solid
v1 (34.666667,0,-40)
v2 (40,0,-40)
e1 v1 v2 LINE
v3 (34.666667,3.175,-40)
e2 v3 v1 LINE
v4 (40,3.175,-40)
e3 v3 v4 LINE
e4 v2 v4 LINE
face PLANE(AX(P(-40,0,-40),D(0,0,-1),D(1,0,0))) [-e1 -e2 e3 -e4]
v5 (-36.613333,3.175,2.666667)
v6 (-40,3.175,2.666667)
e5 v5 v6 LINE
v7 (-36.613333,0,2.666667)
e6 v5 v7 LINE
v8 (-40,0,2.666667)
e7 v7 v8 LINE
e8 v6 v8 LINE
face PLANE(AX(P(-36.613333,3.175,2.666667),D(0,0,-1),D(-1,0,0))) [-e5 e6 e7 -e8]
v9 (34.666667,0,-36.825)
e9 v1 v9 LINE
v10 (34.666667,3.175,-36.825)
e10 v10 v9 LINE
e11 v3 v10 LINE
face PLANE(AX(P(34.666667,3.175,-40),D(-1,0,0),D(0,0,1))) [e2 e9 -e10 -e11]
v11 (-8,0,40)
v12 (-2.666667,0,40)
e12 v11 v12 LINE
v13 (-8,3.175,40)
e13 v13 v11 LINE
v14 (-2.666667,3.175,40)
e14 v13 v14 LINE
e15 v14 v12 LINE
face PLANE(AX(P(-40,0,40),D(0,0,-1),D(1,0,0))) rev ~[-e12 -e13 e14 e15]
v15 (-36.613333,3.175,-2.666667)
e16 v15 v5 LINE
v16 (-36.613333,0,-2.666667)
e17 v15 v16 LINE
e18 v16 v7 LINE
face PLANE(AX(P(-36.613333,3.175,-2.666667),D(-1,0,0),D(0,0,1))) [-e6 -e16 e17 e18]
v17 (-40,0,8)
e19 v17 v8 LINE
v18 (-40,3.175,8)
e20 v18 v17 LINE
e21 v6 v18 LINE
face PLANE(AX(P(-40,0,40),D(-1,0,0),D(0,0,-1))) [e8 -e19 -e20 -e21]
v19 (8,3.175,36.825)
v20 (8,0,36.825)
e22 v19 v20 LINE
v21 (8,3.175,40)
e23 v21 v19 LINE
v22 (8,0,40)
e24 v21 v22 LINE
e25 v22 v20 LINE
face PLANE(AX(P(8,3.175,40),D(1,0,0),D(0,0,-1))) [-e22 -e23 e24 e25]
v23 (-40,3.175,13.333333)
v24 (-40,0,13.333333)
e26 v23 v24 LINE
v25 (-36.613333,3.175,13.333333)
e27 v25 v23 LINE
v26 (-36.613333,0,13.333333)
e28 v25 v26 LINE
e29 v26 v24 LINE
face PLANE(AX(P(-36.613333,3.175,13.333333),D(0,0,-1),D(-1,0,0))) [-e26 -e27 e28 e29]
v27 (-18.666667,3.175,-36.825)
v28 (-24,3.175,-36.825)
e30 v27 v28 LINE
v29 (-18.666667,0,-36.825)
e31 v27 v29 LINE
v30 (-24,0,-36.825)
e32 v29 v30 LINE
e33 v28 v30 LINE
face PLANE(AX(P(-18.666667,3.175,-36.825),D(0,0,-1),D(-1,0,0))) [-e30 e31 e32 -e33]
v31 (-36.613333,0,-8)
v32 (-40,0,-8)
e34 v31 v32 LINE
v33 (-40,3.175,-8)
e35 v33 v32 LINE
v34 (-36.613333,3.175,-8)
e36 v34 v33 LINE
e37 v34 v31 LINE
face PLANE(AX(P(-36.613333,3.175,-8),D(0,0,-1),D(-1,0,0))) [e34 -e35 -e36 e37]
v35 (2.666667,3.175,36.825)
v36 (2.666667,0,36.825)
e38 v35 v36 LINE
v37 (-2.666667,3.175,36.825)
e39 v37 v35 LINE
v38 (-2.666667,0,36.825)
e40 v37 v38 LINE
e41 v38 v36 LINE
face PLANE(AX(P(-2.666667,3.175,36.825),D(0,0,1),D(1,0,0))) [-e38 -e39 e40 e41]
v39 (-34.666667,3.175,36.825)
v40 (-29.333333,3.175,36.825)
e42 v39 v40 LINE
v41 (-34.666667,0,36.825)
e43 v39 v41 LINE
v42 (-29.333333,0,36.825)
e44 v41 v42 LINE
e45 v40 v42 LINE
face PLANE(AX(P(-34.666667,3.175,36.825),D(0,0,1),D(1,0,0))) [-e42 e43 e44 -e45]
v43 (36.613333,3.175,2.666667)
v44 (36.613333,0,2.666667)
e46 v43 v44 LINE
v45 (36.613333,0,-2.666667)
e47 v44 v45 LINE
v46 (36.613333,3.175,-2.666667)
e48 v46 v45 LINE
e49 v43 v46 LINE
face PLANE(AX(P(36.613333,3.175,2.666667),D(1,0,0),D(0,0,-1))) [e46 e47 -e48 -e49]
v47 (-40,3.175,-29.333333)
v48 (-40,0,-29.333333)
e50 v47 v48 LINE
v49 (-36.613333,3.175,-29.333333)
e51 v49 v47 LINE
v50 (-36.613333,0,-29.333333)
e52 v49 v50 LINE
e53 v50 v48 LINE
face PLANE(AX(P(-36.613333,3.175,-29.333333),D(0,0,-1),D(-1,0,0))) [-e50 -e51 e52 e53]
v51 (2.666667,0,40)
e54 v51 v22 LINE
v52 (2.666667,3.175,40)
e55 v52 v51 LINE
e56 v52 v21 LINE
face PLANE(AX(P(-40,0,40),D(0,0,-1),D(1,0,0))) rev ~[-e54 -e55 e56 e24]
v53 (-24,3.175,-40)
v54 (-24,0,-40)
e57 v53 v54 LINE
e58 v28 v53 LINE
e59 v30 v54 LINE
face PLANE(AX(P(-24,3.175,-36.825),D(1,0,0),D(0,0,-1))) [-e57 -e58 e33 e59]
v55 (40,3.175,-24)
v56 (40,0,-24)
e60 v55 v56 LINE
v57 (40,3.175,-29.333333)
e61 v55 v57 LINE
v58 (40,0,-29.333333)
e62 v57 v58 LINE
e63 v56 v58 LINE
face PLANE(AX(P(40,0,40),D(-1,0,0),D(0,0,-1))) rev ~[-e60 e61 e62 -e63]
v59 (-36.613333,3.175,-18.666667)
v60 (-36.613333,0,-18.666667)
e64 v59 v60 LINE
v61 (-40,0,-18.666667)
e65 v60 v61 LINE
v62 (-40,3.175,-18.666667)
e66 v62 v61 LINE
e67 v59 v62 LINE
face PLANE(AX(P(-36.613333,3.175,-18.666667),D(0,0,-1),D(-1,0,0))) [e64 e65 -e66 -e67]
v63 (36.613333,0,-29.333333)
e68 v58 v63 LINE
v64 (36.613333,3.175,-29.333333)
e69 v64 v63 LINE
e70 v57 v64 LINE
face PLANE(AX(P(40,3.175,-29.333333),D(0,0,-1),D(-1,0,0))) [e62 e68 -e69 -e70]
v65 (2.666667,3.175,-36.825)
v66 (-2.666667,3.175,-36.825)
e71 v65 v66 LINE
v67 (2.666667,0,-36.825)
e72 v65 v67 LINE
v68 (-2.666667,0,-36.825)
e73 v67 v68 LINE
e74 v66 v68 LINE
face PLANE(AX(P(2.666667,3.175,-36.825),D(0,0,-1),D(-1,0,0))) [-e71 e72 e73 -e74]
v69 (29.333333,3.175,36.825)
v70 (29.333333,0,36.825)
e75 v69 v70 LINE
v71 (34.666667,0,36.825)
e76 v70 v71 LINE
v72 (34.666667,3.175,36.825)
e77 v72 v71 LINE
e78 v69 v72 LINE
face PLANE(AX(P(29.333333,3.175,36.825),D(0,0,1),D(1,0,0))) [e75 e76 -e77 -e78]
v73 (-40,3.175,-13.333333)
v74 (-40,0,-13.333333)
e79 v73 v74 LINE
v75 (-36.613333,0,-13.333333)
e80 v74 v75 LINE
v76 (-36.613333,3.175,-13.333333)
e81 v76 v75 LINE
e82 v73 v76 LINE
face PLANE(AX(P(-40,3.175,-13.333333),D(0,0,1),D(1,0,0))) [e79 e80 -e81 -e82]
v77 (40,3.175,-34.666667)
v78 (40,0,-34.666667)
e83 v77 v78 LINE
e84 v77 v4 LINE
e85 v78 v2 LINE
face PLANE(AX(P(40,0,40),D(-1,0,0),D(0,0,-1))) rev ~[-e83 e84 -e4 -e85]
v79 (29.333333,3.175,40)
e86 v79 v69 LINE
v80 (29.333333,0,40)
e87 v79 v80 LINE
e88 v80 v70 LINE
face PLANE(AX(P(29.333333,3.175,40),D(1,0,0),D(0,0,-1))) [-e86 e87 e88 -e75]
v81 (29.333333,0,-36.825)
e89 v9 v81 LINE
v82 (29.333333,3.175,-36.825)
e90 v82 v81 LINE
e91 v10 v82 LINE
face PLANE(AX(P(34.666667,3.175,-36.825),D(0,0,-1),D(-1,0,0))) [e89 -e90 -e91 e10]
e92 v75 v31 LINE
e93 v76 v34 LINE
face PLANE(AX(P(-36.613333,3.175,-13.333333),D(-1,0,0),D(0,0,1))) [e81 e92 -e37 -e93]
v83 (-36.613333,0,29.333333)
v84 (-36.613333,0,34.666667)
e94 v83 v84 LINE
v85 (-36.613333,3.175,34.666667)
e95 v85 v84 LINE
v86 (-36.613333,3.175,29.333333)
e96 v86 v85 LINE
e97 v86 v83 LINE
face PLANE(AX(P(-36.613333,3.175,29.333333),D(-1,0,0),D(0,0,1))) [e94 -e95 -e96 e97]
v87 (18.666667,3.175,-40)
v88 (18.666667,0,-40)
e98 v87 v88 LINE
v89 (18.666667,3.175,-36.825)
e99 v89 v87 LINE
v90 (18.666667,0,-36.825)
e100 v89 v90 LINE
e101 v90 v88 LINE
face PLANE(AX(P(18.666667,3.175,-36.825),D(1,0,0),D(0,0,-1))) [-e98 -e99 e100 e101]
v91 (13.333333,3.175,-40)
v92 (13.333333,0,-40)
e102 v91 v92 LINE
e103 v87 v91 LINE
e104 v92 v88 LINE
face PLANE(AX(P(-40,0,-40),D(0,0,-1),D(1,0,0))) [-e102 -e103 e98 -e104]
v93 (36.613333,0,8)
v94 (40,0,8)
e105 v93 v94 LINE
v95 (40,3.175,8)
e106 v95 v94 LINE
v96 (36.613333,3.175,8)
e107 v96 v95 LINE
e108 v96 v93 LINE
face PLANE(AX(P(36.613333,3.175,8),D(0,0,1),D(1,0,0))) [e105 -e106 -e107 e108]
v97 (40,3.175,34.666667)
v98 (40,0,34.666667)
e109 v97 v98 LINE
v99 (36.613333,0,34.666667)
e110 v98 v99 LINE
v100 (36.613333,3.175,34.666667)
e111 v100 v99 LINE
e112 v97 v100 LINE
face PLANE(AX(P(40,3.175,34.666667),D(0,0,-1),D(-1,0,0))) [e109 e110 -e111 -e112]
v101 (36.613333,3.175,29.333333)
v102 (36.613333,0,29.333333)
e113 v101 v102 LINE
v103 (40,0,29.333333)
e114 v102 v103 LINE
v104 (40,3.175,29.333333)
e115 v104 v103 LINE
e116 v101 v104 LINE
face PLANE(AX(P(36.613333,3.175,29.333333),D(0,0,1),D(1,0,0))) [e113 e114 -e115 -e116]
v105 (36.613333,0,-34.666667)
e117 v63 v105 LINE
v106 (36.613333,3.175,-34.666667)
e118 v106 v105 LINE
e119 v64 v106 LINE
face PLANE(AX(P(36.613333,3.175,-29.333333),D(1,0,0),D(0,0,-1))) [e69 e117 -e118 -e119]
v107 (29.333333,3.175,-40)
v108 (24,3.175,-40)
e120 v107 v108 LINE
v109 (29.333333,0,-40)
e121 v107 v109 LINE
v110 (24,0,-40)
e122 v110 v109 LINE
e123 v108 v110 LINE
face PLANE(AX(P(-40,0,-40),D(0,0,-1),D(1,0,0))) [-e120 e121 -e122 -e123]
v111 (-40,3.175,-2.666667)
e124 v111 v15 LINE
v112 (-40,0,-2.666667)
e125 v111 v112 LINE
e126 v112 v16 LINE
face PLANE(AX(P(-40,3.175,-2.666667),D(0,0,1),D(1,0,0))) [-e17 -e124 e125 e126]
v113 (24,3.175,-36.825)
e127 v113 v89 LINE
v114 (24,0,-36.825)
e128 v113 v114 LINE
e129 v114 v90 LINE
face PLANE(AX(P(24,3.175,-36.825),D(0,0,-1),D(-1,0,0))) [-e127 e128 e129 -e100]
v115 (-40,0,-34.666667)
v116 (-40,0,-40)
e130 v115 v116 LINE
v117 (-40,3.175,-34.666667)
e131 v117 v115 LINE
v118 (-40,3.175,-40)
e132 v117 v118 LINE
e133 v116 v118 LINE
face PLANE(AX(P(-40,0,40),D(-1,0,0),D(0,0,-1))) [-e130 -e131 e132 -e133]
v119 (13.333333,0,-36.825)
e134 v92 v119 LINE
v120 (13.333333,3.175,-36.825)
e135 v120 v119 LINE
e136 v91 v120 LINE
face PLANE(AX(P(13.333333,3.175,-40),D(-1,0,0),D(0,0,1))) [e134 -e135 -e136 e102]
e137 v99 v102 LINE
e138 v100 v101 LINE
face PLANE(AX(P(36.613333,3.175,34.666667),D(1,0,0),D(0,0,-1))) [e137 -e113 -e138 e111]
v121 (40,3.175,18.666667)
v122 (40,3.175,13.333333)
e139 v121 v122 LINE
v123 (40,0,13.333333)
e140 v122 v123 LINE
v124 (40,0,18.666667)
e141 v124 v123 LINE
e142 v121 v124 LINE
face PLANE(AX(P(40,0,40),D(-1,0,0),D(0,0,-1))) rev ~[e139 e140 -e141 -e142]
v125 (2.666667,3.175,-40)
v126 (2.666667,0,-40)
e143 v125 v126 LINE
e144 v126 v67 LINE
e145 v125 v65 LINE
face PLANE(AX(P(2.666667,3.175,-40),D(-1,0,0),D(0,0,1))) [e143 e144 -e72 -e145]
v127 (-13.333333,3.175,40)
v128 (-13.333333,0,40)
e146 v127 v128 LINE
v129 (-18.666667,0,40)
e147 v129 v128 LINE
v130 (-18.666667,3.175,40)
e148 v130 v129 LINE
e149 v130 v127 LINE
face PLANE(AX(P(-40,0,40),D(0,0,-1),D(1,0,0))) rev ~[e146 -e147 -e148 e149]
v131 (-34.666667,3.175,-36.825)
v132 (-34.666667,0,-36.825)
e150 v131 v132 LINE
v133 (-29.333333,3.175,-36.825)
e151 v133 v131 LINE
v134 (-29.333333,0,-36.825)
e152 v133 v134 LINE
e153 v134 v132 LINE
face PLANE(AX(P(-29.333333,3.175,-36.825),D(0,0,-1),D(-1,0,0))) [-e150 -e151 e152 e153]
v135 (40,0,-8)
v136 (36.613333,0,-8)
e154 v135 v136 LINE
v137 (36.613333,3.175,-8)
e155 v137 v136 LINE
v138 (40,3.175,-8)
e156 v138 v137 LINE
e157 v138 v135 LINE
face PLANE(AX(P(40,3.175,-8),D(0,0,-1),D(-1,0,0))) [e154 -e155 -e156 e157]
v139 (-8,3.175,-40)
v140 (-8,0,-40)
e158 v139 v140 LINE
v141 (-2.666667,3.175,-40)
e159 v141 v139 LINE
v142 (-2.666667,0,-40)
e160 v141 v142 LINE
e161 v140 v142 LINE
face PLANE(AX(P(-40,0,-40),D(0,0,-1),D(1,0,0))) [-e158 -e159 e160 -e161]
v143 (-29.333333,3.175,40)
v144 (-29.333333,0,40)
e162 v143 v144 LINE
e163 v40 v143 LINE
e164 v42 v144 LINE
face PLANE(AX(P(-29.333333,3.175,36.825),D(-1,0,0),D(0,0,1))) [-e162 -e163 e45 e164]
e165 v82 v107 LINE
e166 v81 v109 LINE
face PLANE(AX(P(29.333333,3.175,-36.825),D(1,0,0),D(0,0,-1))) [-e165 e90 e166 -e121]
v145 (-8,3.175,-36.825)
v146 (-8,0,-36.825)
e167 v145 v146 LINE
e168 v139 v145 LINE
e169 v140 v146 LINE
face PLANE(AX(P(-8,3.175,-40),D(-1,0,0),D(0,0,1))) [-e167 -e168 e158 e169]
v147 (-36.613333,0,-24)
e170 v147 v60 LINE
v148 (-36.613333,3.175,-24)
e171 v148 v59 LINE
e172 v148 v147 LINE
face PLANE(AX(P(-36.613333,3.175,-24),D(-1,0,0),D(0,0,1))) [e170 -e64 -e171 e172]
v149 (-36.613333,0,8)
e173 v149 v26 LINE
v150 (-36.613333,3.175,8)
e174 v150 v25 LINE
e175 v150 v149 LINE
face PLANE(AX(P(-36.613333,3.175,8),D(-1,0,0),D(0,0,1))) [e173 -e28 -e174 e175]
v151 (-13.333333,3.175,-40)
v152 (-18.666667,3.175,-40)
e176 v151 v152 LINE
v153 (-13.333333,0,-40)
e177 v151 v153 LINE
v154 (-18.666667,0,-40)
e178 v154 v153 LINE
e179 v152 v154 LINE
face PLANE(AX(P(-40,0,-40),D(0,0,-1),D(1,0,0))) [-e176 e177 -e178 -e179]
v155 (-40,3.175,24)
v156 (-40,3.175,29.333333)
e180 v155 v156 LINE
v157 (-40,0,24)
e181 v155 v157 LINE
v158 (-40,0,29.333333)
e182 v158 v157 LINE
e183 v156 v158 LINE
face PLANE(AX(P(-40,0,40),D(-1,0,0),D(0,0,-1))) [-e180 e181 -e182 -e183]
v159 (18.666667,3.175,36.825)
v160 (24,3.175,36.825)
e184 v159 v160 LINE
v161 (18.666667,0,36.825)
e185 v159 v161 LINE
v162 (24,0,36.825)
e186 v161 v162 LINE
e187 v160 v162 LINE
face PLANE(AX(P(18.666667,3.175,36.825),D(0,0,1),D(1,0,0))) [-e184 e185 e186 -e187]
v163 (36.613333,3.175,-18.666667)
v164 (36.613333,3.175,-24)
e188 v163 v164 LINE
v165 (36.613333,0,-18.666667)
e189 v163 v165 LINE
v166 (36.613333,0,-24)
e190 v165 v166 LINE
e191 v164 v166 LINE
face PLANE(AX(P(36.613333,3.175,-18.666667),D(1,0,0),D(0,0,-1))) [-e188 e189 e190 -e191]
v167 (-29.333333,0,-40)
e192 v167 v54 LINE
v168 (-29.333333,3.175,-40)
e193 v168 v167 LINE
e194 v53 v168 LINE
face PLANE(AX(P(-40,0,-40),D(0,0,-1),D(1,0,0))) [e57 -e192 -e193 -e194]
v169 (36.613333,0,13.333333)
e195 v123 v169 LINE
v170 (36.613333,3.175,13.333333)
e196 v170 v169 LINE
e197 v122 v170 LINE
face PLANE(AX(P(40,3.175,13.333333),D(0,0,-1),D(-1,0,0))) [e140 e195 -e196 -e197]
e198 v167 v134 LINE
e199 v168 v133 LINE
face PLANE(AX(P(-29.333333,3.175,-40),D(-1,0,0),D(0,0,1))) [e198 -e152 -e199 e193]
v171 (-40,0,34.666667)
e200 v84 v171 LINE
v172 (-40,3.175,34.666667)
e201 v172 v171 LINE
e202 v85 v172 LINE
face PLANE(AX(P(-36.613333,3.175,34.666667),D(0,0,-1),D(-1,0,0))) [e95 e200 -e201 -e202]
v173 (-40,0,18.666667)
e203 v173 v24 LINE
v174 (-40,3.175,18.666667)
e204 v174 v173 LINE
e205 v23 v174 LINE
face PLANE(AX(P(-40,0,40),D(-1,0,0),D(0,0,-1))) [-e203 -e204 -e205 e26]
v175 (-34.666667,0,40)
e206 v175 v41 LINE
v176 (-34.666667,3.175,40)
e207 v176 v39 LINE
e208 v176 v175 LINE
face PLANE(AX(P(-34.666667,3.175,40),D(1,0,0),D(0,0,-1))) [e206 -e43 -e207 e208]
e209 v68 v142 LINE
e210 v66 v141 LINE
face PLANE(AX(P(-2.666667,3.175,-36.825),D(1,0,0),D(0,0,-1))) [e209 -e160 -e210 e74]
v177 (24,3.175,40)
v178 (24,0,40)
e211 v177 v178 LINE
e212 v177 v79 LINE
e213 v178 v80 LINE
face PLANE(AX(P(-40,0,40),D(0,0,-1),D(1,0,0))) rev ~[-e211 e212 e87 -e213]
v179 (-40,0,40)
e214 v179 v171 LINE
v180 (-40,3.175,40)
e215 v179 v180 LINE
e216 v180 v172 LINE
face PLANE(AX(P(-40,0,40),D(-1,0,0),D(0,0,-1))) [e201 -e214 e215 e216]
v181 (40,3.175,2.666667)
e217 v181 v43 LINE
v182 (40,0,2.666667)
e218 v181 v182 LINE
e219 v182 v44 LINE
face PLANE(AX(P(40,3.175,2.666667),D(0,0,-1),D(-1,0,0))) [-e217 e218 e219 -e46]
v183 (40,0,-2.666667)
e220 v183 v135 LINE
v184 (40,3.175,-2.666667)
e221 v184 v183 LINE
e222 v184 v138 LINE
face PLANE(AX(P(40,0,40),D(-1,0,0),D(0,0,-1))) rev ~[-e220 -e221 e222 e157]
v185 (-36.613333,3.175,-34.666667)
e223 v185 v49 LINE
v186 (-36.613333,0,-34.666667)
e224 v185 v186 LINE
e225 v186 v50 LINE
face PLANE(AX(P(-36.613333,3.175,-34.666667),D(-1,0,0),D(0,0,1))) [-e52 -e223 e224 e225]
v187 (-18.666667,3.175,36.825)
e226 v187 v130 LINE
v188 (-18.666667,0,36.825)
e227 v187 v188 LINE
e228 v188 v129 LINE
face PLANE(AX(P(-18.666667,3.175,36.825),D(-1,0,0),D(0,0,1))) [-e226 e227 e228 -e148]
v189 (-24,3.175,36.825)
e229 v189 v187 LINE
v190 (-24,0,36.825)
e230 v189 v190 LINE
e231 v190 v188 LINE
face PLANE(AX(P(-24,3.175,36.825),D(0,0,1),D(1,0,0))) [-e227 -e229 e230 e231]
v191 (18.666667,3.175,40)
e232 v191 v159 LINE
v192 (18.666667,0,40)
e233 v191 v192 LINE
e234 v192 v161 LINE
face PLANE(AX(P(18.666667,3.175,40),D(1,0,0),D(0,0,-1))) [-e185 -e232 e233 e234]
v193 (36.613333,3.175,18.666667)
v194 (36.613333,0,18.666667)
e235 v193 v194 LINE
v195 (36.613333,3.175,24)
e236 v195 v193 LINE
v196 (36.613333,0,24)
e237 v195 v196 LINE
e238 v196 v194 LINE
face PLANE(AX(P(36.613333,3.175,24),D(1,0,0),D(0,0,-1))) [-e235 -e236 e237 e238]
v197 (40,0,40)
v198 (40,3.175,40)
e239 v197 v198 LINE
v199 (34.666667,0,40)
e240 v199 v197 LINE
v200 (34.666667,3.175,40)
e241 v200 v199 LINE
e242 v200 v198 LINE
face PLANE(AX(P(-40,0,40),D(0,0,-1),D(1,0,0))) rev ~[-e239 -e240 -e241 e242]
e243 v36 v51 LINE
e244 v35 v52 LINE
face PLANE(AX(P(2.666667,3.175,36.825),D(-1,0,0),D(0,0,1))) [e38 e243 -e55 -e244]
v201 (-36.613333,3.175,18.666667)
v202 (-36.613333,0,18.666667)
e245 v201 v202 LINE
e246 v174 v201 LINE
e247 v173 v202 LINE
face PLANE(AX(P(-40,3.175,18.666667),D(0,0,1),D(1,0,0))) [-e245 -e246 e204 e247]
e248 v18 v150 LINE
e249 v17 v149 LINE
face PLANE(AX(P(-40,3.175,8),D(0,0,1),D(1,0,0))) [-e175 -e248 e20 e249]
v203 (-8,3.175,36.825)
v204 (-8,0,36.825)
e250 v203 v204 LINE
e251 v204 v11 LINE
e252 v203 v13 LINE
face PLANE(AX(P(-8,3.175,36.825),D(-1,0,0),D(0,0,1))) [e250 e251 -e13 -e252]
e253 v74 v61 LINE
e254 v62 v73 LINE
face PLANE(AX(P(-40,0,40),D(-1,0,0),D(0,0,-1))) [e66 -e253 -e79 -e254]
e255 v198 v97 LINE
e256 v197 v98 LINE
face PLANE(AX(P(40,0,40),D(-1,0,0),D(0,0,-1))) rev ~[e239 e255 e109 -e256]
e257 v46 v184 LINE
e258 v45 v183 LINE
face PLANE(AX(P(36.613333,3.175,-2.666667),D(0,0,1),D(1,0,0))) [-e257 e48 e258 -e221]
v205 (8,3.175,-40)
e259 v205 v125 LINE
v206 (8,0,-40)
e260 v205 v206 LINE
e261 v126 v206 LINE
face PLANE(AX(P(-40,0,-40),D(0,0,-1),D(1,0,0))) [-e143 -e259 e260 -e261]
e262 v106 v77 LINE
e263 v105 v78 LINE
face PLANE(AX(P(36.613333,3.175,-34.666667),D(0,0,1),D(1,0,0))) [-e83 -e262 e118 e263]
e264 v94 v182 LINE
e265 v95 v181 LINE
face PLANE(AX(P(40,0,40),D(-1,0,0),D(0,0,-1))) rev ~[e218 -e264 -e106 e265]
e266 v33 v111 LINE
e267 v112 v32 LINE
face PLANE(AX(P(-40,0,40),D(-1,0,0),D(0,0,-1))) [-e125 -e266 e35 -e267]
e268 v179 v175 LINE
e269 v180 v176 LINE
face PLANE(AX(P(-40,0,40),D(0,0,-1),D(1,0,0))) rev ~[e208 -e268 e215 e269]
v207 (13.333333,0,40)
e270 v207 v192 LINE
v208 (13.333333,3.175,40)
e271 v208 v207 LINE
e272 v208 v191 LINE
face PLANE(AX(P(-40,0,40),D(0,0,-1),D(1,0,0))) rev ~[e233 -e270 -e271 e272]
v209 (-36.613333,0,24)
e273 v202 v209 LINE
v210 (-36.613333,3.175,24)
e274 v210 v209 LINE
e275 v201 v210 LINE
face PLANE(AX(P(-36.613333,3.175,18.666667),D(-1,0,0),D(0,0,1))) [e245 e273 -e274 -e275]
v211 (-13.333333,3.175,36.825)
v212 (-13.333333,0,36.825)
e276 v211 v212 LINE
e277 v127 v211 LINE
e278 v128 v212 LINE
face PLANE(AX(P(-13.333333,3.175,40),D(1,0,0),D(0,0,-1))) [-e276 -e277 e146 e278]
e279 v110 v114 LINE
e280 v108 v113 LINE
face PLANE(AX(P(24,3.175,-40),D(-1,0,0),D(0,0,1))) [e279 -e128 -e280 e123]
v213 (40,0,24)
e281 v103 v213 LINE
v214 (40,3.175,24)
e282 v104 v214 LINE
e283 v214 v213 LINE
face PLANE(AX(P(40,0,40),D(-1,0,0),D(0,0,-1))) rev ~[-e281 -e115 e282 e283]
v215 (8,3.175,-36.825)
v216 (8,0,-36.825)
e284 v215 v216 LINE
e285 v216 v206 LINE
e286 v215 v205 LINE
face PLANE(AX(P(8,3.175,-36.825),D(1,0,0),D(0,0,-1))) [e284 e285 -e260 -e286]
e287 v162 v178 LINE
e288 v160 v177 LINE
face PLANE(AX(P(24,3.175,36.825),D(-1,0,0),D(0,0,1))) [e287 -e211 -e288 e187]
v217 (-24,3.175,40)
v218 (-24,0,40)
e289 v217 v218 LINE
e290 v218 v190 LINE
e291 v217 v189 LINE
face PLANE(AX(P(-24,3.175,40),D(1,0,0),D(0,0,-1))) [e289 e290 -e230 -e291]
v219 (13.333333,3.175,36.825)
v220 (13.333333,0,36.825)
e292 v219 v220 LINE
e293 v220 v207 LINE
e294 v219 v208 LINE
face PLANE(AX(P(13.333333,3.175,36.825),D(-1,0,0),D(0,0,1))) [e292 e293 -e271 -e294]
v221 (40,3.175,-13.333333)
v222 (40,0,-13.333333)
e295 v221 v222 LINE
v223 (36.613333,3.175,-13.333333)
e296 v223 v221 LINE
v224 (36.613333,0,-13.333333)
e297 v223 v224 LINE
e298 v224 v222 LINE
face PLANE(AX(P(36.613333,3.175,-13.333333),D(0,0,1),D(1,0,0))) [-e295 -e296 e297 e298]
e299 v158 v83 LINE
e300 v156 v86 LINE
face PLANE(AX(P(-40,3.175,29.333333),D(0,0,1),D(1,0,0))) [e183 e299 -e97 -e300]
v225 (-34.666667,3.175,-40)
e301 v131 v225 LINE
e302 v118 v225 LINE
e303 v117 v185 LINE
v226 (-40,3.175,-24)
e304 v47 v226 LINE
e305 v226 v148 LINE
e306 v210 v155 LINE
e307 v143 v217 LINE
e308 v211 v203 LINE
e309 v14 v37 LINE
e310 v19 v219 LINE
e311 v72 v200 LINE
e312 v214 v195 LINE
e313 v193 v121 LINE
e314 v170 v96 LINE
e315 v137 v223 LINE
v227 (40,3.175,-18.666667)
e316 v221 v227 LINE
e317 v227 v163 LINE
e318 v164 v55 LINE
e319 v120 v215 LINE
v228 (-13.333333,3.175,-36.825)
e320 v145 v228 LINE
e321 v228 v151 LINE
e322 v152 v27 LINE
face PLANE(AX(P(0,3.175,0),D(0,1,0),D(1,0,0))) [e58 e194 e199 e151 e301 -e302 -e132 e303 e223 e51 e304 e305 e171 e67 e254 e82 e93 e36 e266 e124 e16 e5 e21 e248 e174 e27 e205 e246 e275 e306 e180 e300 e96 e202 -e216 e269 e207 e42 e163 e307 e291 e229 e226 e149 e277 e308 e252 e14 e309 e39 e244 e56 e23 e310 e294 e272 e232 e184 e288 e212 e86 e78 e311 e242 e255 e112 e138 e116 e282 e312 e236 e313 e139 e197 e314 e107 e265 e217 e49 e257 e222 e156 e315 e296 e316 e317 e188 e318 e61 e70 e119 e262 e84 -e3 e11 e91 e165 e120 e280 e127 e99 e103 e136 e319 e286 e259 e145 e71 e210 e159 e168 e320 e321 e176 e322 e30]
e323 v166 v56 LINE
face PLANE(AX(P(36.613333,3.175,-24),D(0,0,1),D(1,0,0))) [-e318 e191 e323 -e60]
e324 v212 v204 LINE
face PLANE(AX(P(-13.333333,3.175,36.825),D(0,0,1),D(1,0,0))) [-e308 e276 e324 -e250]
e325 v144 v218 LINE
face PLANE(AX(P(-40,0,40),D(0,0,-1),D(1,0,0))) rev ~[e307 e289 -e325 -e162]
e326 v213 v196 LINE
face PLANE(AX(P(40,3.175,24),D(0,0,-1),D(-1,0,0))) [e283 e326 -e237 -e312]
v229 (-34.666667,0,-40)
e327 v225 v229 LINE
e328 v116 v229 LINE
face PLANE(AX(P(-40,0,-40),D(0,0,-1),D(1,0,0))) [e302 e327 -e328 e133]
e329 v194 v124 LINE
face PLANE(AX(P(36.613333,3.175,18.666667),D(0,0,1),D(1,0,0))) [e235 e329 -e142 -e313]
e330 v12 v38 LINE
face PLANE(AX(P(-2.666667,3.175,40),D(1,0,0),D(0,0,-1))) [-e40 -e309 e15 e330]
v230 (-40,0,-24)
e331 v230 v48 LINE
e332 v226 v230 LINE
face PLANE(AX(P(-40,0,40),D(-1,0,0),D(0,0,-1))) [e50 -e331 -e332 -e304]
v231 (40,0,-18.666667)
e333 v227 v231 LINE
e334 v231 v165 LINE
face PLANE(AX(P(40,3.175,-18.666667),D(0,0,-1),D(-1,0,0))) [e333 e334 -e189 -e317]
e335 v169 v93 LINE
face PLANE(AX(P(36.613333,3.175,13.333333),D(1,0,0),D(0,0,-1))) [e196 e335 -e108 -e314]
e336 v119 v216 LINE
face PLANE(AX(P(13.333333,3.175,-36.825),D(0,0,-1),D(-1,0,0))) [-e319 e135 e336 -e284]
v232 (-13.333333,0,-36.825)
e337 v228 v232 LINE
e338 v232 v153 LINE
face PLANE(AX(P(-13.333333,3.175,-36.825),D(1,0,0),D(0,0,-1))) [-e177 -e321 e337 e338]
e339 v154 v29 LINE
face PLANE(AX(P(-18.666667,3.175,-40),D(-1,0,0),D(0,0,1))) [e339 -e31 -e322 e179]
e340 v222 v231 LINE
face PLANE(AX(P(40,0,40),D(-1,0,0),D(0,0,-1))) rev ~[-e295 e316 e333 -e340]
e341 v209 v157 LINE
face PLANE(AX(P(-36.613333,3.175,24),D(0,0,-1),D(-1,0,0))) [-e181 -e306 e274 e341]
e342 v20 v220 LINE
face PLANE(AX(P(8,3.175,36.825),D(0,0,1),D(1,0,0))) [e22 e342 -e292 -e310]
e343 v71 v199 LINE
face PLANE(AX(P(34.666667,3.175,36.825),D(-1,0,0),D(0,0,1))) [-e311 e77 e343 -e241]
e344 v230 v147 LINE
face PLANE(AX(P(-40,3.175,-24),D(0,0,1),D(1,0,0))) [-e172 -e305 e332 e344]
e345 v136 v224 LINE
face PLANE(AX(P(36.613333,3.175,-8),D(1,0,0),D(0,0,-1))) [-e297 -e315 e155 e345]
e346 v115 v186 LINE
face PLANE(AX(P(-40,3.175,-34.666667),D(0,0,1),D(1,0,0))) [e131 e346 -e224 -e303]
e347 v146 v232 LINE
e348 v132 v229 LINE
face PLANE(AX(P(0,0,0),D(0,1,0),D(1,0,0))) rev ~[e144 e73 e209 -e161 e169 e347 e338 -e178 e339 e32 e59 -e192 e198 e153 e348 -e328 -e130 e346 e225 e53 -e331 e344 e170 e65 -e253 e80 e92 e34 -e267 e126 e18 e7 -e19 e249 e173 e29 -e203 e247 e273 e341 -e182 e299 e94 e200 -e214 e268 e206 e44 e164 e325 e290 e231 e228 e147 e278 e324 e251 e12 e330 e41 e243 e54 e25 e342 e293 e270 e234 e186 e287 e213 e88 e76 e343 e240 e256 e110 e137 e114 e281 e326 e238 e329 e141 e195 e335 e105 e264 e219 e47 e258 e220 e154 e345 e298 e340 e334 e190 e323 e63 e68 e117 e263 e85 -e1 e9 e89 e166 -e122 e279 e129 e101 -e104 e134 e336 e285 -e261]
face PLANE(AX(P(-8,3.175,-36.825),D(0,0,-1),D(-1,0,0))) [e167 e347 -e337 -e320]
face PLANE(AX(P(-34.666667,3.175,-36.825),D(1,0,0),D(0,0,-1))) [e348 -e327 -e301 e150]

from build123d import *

# Parameters (mm, degrees)
SKETCH1_W           = 80
SKETCH1_H           = 80
BOSS_EXTRUDE1_DEPTH = 3.175
SKETCH3_OUTSIDE_W   = 104.636
SKETCH3_OUTSIDE_H   = 104.636
CUT_EXTRUDE1_DEPTH  = 57.657573413


with BuildPart() as part:
    # Sketch1 → Boss-Extrude1 (new body)
    with BuildSketch(Plane(origin=(0, 0, 0), x_dir=(1, 0, 0), z_dir=(0, 1, 0))):
        Rectangle(SKETCH1_W, SKETCH1_H)
    extrude(amount=BOSS_EXTRUDE1_DEPTH)

    # Sketch3 outside → Cut-Extrude1 (cut, through all)
    with BuildSketch(Plane(origin=(0, 3.175, 0), x_dir=(1, 0, 0), z_dir=(0, 1, 0))):
        Rectangle(SKETCH3_OUTSIDE_W, SKETCH3_OUTSIDE_H)
        Polygon((-40, -40), (-34.666666667, -40), (-34.666666667, -36.825), (-29.333333333, -36.825), (-29.333333333, -40), (-24, -40), (-24, -36.825), (-18.666666667, -36.825), (-18.666666667, -40), (-13.333333333, -40), (-13.333333333, -36.825), (-8, -36.825), (-8, -40), (-2.666666667, -40), (-2.666666667, -36.825), (2.666666667, -36.825), (2.666666667, -40), (8, -40), (8, -36.825), (13.333333333, -36.825), (13.333333333, -40), (18.666666667, -40), (18.666666667, -36.825), (24, -36.825), (24, -40), (29.333333333, -40), (29.333333333, -36.825), (34.666666667, -36.825), (34.666666667, -40), (40, -40), (40, -34.666666667), (36.613333333, -34.666666667), (36.613333333, -29.333333333), (40, -29.333333333), (40, -24), (36.613333333, -24), (36.613333333, -18.666666667), (40, -18.666666667), (40, -13.333333333), (36.613333333, -13.333333333), (36.613333333, -8), (40, -8), (40, -2.666666667), (36.613333333, -2.666666667), (36.613333333, 2.666666667), (40, 2.666666667), (40, 8), (36.613333333, 8), (36.613333333, 13.333333333), (40, 13.333333333), (40, 18.666666667), (36.613333333, 18.666666667), (36.613333333, 24), (40, 24), (40, 29.333333333), (36.613333333, 29.333333333), (36.613333333, 34.666666667), (40, 34.666666667), (40, 40), (34.666666667, 40), (34.666666667, 36.825), (29.333333333, 36.825), (29.333333333, 40), (24, 40), (24, 36.825), (18.666666667, 36.825), (18.666666667, 40), (13.333333333, 40), (13.333333333, 36.825), (8, 36.825), (8, 40), (2.666666667, 40), (2.666666667, 36.825), (-2.666666667, 36.825), (-2.666666667, 40), (-8, 40), (-8, 36.825), (-13.333333333, 36.825), (-13.333333333, 40), (-18.666666667, 40), (-18.666666667, 36.825), (-24, 36.825), (-24, 40), (-29.333333333, 40), (-29.333333333, 36.825), (-34.666666667, 36.825), (-34.666666667, 40), (-40, 40), (-40, 34.666666667), (-36.613333333, 34.666666667), (-36.613333333, 29.333333333), (-40, 29.333333333), (-40, 24), (-36.613333333, 24), (-36.613333333, 18.666666667), (-40, 18.666666667), (-40, 13.333333333), (-36.613333333, 13.333333333), (-36.613333333, 8), (-40, 8), (-40, 2.666666667), (-36.613333333, 2.666666667), (-36.613333333, -2.666666667), (-40, -2.666666667), (-40, -8), (-36.613333333, -8), (-36.613333333, -13.333333333), (-40, -13.333333333), (-40, -18.666666667), (-36.613333333, -18.666666667), (-36.613333333, -24), (-40, -24), (-40, -29.333333333), (-36.613333333, -29.333333333), (-36.613333333, -34.666666667), (-40, -34.666666667), align=None, mode=Mode.SUBTRACT)
    extrude(amount=-CUT_EXTRUDE1_DEPTH, mode=Mode.SUBTRACT)


solid = part.part
